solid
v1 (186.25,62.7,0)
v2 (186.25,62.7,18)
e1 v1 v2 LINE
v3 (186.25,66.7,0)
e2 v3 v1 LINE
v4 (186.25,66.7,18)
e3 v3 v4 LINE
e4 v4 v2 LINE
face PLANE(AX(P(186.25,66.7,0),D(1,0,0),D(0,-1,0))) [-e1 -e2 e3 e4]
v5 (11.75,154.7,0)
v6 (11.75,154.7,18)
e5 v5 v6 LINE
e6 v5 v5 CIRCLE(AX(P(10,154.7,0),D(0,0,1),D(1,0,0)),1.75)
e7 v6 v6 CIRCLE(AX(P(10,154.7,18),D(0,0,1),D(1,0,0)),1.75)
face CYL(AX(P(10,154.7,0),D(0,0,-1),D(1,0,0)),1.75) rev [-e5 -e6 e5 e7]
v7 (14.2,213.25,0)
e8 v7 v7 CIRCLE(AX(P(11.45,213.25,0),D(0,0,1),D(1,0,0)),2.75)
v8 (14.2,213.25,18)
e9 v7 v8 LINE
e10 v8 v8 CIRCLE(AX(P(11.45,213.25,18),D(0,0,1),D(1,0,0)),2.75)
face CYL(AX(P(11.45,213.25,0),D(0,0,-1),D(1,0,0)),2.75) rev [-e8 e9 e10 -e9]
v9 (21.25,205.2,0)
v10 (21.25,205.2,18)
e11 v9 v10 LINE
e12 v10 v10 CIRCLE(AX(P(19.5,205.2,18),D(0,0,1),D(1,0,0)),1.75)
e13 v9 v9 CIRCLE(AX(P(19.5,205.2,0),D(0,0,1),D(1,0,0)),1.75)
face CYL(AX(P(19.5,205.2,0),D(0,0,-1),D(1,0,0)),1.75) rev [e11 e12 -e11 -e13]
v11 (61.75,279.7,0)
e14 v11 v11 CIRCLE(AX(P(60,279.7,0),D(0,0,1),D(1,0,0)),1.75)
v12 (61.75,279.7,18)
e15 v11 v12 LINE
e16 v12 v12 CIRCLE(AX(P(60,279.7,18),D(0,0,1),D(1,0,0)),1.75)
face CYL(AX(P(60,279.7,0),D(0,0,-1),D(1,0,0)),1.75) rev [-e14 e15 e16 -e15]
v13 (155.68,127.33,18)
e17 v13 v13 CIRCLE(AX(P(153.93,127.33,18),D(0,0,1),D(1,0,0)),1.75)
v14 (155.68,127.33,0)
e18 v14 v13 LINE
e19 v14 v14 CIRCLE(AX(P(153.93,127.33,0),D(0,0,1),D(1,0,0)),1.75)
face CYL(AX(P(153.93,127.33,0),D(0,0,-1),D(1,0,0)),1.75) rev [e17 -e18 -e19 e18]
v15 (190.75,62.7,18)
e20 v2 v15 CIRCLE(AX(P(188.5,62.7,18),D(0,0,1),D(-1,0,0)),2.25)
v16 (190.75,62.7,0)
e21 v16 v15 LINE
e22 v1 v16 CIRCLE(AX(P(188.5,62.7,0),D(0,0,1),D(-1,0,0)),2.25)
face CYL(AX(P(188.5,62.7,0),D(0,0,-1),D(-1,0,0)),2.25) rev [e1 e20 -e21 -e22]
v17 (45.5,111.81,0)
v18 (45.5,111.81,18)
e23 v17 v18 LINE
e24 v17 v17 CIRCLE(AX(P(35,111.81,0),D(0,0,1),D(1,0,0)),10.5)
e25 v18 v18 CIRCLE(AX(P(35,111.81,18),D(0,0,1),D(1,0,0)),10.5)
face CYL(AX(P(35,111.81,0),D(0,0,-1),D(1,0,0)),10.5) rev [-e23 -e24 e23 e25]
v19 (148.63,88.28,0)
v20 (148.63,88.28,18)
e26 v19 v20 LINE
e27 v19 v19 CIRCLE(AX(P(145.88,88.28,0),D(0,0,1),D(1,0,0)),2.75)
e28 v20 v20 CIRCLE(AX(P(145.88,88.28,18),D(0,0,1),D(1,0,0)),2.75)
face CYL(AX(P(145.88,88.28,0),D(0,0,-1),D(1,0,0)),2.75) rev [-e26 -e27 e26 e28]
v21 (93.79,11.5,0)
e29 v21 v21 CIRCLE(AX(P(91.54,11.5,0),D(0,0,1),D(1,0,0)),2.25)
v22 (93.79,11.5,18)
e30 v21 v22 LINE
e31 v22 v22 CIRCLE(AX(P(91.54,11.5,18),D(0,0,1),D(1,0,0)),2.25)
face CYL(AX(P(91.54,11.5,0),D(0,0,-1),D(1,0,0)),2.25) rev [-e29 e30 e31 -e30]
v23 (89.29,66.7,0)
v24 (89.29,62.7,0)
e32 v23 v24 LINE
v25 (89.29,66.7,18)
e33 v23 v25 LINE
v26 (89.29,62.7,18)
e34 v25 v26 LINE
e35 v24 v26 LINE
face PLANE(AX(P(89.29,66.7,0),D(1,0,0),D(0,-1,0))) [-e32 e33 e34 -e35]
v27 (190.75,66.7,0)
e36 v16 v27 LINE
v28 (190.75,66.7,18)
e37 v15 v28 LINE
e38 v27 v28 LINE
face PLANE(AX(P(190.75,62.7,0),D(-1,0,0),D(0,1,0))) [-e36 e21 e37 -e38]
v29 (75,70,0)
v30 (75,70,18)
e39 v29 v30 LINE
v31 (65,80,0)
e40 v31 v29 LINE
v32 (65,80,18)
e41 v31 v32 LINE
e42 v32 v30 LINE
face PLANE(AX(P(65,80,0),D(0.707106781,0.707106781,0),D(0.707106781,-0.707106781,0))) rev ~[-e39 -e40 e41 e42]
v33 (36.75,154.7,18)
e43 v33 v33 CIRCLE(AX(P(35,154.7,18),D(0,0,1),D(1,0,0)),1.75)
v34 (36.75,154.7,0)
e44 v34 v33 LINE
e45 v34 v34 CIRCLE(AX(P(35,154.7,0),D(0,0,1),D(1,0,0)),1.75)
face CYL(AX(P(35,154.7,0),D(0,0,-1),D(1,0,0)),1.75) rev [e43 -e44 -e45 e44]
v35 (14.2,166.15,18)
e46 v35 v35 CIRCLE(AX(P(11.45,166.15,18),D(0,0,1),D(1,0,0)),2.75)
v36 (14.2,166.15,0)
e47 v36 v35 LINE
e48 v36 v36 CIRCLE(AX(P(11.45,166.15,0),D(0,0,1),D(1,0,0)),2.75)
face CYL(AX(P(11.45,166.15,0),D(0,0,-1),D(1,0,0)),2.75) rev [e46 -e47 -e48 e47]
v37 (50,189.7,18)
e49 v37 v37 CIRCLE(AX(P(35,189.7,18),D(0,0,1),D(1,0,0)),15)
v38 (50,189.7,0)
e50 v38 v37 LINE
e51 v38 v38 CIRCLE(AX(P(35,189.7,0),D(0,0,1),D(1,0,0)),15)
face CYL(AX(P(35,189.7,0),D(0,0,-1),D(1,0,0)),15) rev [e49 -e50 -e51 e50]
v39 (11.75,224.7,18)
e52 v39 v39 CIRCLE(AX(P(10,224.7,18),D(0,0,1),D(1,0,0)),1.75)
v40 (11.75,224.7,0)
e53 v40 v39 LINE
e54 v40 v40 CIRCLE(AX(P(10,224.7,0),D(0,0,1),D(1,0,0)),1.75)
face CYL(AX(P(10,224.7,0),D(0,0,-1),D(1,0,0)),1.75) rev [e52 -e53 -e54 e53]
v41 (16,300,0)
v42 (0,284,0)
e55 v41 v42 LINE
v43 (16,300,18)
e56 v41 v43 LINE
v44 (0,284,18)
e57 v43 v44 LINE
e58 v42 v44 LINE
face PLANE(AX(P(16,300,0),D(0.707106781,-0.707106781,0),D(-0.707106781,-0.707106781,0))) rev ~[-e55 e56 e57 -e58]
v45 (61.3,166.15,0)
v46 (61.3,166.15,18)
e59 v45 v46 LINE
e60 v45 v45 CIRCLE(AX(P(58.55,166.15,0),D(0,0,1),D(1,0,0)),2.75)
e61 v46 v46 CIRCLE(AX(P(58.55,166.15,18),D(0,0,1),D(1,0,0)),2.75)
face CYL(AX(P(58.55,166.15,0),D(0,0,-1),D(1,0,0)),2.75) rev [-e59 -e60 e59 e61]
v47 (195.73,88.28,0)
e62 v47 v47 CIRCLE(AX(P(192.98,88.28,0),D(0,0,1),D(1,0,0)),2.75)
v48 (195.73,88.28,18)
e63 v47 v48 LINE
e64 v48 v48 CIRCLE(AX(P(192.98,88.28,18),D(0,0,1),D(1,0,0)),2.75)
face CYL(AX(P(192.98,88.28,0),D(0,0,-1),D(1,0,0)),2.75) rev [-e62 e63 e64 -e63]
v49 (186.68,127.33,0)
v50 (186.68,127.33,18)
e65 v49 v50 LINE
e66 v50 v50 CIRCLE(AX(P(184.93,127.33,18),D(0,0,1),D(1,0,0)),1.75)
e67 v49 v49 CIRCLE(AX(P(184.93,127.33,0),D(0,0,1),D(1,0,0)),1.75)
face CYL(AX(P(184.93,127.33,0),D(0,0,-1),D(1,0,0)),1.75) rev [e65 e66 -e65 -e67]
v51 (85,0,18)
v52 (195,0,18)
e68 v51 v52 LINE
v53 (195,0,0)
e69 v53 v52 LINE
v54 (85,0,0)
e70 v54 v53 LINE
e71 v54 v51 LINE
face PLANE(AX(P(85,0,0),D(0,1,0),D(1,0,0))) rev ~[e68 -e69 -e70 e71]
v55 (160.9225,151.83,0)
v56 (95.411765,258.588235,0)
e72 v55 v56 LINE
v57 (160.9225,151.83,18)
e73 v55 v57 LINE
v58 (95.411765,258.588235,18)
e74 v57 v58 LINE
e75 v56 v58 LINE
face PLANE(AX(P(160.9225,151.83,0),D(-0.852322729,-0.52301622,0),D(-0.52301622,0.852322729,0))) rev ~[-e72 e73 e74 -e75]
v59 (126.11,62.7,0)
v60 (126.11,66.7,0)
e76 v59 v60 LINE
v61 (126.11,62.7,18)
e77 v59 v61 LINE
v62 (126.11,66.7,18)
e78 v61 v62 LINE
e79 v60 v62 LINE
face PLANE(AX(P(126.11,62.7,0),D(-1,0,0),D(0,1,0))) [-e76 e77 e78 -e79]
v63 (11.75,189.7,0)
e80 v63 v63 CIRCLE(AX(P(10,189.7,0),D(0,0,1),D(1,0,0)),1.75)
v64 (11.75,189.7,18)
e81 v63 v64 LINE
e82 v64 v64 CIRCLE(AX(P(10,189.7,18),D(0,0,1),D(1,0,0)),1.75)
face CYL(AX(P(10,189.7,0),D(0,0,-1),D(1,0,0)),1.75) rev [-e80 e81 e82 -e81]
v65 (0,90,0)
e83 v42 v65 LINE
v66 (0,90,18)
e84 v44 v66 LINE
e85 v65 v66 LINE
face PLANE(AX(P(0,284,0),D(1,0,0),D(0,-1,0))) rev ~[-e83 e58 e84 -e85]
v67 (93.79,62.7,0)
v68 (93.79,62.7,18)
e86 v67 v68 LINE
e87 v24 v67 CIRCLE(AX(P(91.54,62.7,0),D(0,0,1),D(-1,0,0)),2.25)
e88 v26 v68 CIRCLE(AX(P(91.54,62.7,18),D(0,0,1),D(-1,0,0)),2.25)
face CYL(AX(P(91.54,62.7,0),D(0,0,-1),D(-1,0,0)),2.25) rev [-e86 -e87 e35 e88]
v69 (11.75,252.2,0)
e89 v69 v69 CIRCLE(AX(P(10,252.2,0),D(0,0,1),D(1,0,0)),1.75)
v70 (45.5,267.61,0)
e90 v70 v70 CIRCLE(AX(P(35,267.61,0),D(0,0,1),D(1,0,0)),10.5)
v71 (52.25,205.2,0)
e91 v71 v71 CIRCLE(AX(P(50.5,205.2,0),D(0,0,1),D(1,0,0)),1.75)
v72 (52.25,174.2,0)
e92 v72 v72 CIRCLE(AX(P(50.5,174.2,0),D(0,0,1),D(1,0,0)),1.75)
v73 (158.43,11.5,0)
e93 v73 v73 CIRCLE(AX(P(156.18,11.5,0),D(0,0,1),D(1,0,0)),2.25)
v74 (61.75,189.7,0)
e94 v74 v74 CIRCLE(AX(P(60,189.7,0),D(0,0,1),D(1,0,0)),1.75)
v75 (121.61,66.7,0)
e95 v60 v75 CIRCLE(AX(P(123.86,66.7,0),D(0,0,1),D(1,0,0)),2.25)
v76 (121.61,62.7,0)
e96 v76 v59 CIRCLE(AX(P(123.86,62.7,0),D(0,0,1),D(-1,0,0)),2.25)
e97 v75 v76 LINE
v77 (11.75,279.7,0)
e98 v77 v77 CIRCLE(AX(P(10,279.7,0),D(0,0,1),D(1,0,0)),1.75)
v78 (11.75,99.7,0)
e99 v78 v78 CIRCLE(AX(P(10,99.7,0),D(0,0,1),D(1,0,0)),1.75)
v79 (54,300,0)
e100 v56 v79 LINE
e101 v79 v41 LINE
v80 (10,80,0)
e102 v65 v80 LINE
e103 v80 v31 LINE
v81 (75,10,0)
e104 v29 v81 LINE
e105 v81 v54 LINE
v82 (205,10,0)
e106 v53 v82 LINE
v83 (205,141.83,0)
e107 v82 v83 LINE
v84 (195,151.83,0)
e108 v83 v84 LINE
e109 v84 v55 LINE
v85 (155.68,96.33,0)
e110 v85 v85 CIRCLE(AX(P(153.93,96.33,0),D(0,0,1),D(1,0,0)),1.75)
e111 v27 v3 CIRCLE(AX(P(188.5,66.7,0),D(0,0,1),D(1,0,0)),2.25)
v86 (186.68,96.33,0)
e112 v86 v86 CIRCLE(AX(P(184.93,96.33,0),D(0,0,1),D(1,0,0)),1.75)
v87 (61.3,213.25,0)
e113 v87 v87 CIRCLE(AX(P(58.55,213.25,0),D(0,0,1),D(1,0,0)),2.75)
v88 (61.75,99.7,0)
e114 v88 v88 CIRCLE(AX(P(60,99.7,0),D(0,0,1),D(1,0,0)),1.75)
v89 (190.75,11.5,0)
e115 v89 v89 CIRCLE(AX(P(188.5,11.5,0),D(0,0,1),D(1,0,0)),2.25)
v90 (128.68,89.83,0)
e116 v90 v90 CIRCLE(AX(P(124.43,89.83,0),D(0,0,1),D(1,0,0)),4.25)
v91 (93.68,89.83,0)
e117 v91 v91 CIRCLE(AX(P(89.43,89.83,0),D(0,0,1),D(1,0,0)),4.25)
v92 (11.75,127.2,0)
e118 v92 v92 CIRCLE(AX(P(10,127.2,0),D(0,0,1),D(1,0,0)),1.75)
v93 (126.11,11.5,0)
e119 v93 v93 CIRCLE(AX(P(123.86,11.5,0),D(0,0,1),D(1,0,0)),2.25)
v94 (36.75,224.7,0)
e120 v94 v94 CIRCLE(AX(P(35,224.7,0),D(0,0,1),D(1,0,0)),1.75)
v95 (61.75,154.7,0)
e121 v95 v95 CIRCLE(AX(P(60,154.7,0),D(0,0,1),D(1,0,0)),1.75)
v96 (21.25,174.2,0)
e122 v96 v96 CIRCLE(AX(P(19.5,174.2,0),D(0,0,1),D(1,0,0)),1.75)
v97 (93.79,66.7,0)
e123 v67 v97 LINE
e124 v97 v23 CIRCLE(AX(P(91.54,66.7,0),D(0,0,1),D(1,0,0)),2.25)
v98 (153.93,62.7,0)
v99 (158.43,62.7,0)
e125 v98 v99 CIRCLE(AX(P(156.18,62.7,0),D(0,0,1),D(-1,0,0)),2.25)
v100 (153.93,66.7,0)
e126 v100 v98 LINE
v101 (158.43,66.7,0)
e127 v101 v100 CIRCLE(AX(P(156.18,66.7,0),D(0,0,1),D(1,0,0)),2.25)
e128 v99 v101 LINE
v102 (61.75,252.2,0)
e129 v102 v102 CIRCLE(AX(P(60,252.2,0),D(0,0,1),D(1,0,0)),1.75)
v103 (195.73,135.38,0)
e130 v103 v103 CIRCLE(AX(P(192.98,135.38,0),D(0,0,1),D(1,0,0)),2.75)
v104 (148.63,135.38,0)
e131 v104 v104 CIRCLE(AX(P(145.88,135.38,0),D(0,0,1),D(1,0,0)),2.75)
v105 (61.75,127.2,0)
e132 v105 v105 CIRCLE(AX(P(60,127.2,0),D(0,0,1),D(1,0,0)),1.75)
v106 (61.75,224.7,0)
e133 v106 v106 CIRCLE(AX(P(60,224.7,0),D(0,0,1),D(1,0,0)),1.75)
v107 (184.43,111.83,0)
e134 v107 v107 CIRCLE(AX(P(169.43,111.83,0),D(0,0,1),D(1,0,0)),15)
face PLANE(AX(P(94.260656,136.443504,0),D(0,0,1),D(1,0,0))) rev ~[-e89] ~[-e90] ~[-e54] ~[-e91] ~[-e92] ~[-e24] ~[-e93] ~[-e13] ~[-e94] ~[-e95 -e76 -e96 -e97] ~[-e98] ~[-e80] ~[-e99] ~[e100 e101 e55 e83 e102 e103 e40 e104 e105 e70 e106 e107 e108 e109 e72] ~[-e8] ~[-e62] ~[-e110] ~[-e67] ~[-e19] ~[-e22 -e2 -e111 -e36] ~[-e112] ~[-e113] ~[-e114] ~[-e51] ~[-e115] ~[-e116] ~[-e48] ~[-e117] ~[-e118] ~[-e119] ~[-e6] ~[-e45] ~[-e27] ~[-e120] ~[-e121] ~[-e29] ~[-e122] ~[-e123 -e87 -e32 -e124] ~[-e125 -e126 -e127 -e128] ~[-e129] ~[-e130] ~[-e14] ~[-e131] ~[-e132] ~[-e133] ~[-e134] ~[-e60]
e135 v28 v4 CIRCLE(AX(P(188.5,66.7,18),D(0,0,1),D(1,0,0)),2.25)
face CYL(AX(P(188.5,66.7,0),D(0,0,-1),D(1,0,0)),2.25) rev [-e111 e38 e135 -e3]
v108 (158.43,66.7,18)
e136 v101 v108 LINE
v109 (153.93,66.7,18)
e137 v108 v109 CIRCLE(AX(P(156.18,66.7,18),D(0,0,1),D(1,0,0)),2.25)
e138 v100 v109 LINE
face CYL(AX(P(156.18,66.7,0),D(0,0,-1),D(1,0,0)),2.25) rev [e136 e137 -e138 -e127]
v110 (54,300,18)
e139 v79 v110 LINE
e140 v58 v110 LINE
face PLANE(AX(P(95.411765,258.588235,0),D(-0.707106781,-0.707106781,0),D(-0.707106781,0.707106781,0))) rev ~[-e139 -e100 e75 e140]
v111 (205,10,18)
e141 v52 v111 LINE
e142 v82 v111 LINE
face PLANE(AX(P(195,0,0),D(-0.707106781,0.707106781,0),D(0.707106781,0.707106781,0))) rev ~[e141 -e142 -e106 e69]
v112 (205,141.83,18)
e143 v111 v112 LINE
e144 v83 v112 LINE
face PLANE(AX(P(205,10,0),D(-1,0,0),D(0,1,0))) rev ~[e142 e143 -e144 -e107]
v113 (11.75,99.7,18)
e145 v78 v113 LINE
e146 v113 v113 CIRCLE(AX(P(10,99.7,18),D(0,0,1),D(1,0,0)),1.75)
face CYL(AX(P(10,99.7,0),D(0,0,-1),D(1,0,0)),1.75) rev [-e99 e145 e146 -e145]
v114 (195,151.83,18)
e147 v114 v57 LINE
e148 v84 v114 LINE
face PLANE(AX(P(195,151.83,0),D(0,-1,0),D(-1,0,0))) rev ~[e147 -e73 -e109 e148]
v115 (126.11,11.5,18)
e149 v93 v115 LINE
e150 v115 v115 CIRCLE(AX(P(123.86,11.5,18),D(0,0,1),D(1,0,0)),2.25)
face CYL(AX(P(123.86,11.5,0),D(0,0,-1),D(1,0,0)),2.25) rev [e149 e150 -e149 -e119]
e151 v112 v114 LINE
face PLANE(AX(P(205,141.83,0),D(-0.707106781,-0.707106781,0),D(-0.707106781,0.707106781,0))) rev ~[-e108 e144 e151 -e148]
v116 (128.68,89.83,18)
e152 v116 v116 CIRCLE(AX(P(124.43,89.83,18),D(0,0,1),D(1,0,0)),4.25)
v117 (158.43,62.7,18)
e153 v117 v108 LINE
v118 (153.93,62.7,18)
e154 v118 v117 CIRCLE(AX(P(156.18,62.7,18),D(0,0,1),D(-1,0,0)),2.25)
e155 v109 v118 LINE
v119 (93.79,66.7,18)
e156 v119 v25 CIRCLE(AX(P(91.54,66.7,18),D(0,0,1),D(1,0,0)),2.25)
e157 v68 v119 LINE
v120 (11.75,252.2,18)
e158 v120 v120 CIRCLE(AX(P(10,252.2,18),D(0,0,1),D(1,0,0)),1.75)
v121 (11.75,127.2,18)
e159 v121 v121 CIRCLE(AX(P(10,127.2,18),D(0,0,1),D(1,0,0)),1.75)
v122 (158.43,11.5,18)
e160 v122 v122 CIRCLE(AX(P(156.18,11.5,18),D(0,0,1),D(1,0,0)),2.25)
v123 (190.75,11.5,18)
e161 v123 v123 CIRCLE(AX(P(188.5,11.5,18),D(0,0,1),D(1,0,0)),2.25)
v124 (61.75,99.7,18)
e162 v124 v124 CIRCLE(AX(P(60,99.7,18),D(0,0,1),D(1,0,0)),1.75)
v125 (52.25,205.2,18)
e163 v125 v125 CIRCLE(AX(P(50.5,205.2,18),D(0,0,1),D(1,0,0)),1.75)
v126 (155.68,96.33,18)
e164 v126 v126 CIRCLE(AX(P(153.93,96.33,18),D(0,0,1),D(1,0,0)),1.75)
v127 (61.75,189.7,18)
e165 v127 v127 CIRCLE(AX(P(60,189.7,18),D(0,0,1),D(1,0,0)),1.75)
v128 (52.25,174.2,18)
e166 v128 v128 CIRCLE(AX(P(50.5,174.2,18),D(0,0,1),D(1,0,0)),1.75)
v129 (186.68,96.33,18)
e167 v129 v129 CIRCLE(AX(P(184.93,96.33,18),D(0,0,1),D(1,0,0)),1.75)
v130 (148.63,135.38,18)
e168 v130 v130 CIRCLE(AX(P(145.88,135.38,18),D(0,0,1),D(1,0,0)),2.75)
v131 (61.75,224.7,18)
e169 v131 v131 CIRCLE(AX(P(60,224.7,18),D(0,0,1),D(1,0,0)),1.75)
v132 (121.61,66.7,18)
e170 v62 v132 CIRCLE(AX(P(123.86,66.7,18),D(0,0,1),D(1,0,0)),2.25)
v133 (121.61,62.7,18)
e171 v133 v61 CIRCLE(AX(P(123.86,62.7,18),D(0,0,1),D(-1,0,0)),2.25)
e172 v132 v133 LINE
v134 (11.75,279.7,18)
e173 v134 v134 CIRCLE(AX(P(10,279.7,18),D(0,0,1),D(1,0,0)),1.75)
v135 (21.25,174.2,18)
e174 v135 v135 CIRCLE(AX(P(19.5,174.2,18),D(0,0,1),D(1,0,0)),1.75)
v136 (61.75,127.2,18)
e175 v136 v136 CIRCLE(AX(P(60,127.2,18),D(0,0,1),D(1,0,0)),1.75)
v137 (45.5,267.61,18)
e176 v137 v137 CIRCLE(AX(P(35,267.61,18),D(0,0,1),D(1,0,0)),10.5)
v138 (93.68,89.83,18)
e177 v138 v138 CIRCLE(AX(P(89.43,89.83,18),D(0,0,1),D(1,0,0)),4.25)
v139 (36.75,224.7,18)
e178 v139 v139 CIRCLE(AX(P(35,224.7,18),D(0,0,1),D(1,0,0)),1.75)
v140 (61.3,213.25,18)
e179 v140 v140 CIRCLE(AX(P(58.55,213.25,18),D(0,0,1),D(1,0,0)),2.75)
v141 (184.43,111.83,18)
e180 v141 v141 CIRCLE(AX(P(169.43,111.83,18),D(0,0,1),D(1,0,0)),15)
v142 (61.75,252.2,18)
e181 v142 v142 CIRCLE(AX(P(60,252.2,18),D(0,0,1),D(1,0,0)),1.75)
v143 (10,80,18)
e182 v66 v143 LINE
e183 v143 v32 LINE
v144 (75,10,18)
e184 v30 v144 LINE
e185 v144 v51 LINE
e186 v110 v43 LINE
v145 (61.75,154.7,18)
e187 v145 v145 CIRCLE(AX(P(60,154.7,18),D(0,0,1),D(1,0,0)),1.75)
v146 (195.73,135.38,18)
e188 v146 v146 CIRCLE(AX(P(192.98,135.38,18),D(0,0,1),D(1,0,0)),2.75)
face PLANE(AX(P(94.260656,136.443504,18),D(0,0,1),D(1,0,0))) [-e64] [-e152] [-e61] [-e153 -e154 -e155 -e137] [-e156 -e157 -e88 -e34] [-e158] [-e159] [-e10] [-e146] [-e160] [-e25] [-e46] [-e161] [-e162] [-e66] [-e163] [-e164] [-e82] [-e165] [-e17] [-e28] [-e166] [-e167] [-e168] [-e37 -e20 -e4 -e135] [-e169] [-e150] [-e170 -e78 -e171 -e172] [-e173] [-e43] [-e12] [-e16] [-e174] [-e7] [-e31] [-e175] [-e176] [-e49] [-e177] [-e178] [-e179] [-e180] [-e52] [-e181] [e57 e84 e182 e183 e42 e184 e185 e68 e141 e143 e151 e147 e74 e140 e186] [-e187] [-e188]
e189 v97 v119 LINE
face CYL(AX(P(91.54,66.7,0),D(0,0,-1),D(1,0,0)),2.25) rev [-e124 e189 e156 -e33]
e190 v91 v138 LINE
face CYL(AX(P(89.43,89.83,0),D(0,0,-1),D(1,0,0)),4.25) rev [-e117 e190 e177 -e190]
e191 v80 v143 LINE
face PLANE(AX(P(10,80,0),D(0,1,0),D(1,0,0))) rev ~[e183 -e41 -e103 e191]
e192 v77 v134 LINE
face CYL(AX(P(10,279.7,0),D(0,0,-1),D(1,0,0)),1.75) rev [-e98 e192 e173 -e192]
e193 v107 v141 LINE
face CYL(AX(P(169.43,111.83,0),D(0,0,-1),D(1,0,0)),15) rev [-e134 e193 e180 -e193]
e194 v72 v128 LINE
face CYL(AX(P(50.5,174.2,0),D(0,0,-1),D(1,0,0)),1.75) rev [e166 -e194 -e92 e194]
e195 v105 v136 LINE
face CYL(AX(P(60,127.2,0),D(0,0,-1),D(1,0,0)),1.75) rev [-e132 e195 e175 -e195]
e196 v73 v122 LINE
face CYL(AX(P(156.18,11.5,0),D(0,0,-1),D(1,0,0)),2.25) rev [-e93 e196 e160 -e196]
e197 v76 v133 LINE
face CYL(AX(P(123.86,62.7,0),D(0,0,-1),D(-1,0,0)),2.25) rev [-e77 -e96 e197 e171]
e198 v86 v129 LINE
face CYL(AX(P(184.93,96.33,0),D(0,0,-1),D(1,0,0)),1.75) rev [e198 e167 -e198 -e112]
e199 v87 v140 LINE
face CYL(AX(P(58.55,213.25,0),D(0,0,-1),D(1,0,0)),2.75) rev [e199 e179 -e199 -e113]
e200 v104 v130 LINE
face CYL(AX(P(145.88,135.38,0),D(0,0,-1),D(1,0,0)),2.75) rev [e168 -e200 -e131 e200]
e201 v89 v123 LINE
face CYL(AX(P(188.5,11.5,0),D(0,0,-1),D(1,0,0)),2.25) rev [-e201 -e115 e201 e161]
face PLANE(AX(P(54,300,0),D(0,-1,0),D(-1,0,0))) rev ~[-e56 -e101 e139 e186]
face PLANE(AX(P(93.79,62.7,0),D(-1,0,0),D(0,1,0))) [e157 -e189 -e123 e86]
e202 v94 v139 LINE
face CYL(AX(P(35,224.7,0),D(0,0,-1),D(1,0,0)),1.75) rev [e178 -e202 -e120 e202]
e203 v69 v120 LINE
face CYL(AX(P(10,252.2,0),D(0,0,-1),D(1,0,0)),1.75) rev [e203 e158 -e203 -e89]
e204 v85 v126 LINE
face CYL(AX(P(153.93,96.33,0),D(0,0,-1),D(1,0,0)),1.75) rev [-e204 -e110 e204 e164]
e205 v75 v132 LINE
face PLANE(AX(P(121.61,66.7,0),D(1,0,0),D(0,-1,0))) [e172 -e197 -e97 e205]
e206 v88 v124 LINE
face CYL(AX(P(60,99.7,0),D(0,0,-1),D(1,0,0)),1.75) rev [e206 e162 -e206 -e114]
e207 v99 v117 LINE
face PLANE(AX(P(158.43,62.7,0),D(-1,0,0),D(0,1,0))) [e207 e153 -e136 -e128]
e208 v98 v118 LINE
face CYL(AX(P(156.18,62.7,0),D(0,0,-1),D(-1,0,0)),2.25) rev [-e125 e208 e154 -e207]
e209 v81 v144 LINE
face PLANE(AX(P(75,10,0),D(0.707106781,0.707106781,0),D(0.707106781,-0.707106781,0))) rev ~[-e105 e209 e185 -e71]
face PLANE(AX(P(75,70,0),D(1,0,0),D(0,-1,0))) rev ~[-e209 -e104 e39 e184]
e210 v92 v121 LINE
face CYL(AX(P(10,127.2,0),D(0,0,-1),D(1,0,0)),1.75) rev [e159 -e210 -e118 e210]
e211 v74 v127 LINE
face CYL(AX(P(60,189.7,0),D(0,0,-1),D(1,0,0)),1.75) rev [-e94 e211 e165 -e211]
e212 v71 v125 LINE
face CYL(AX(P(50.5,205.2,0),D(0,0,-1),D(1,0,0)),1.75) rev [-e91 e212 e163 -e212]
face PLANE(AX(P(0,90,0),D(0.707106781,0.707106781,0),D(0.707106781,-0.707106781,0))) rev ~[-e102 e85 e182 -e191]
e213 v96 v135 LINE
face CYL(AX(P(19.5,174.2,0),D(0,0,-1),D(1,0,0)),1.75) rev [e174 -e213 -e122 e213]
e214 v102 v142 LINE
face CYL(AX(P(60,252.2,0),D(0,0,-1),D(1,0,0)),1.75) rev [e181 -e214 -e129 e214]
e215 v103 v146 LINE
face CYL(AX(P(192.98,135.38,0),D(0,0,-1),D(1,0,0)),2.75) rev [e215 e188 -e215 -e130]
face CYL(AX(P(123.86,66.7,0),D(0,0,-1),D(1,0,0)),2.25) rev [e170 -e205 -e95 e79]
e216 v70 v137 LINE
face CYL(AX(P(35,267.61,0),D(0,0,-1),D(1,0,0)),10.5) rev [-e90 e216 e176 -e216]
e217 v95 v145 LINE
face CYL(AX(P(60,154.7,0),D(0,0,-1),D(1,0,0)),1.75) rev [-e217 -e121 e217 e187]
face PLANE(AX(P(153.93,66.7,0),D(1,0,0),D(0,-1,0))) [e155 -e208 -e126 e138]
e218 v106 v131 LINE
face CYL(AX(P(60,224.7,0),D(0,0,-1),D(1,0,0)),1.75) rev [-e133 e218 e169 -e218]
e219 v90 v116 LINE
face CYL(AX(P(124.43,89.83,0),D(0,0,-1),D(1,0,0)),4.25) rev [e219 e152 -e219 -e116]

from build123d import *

# Parameters (mm, degrees)
MODEL_R             = 1.75
MODEL_R_2           = 2.25
MODEL_R_3           = 15
MODEL_R_4           = 2.75
MODEL_R_5           = 10.5
MODEL_R_6           = 4.25
BOSS_EXTRUDE1_DEPTH = 18


with BuildPart() as part:
    # Model → Boss-Extrude1 (new body)
    with BuildSketch(Plane.XY):
        Polygon((195, 0), (205, 10), (205, 141.83), (195, 151.83), (160.9225, 151.83), (95.411764706, 258.588235294), (54, 300), (16, 300), (0, 284), (0, 90), (10, 80), (65, 80), (75, 70), (75, 10), (85, 0), align=None)
        with Locations((60, 279.7)):
            Circle(MODEL_R, mode=Mode.SUBTRACT)
        with Locations((10, 279.7)):
            Circle(MODEL_R, mode=Mode.SUBTRACT)
        with Locations((10, 224.7)):
            Circle(MODEL_R, mode=Mode.SUBTRACT)
        with Locations((10, 154.7)):
            Circle(MODEL_R, mode=Mode.SUBTRACT)
        with Locations((10, 99.7)):
            Circle(MODEL_R, mode=Mode.SUBTRACT)
        with Locations((60, 99.7)):
            Circle(MODEL_R, mode=Mode.SUBTRACT)
        with Locations((60, 154.7)):
            Circle(MODEL_R, mode=Mode.SUBTRACT)
        with Locations((60, 224.7)):
            Circle(MODEL_R, mode=Mode.SUBTRACT)
        with Locations((10, 252.2)):
            Circle(MODEL_R, mode=Mode.SUBTRACT)
        with Locations((60, 252.2)):
            Circle(MODEL_R, mode=Mode.SUBTRACT)
        with Locations((35, 224.7)):
            Circle(MODEL_R, mode=Mode.SUBTRACT)
        with Locations((10, 189.7)):
            Circle(MODEL_R, mode=Mode.SUBTRACT)
        with Locations((60, 189.7)):
            Circle(MODEL_R, mode=Mode.SUBTRACT)
        with Locations((10, 127.2)):
            Circle(MODEL_R, mode=Mode.SUBTRACT)
        with Locations((60, 127.2)):
            Circle(MODEL_R, mode=Mode.SUBTRACT)
        with Locations((35, 154.7)):
            Circle(MODEL_R, mode=Mode.SUBTRACT)
        with Locations((91.54, 11.5)):
            Circle(MODEL_R_2, mode=Mode.SUBTRACT)
        with Locations((123.86, 11.5)):
            Circle(MODEL_R_2, mode=Mode.SUBTRACT)
        with Locations((156.18, 11.5)):
            Circle(MODEL_R_2, mode=Mode.SUBTRACT)
        with Locations((188.5, 11.5)):
            Circle(MODEL_R_2, mode=Mode.SUBTRACT)
        with Locations((50.5, 205.2)):
            Circle(MODEL_R, mode=Mode.SUBTRACT)
        with Locations((50.5, 174.2)):
            Circle(MODEL_R, mode=Mode.SUBTRACT)
        with Locations((35, 189.7)):
            Circle(MODEL_R_3, mode=Mode.SUBTRACT)
        with Locations((19.5, 174.2)):
            Circle(MODEL_R, mode=Mode.SUBTRACT)
        with Locations((19.5, 205.2)):
            Circle(MODEL_R, mode=Mode.SUBTRACT)
        with Locations((11.45, 213.25)):
            Circle(MODEL_R_4, mode=Mode.SUBTRACT)
        with Locations((58.55, 213.25)):
            Circle(MODEL_R_4, mode=Mode.SUBTRACT)
        with Locations((58.55, 166.15)):
            Circle(MODEL_R_4, mode=Mode.SUBTRACT)
        with Locations((11.45, 166.15)):
            Circle(MODEL_R_4, mode=Mode.SUBTRACT)
        with Locations((35, 111.81)):
            Circle(MODEL_R_5, mode=Mode.SUBTRACT)
        with Locations((35, 267.61)):
            Circle(MODEL_R_5, mode=Mode.SUBTRACT)
        with Locations((89.43, 89.83)):
            Circle(MODEL_R_6, mode=Mode.SUBTRACT)
        with Locations((124.43, 89.83)):
            Circle(MODEL_R_6, mode=Mode.SUBTRACT)
        with Locations((145.88, 135.38)):
            Circle(MODEL_R_4, mode=Mode.SUBTRACT)
        with Locations((192.98, 135.38)):
            Circle(MODEL_R_4, mode=Mode.SUBTRACT)
        with Locations((192.98, 88.28)):
            Circle(MODEL_R_4, mode=Mode.SUBTRACT)
        with Locations((145.88, 88.28)):
            Circle(MODEL_R_4, mode=Mode.SUBTRACT)
        with Locations((169.43, 111.83)):
            Circle(MODEL_R_3, mode=Mode.SUBTRACT)
        with Locations((153.93, 96.33)):
            Circle(MODEL_R, mode=Mode.SUBTRACT)
        with Locations((184.93, 127.33)):
            Circle(MODEL_R, mode=Mode.SUBTRACT)
        with Locations((184.93, 96.33)):
            Circle(MODEL_R, mode=Mode.SUBTRACT)
        with Locations((153.93, 127.33)):
            Circle(MODEL_R, mode=Mode.SUBTRACT)
        with BuildLine():
            Line((89.29, 66.7), (89.29, 62.7))
            ThreePointArc((89.29, 62.7), (91.54, 60.45), (93.79, 62.7))
            Line((93.79, 62.7), (93.79, 66.7))
            ThreePointArc((93.79, 66.7), (91.54, 68.95), (89.29, 66.7))
        make_face(mode=Mode.SUBTRACT)
        with BuildLine():
            Line((121.61, 66.7), (121.61, 62.7))
            ThreePointArc((121.61, 62.7), (123.86, 60.45), (126.11, 62.7))
            Line((126.11, 62.7), (126.11, 66.7))
            ThreePointArc((126.11, 66.7), (123.86, 68.95), (121.61, 66.7))
        make_face(mode=Mode.SUBTRACT)
        with BuildLine():
            Line((153.93, 66.7), (153.93, 62.7))
            ThreePointArc((153.93, 62.7), (156.18, 60.45), (158.43, 62.7))
            Line((158.43, 62.7), (158.43, 66.7))
            ThreePointArc((158.43, 66.7), (156.18, 68.95), (153.93, 66.7))
        make_face(mode=Mode.SUBTRACT)
        with BuildLine():
            Line((186.25, 66.7), (186.25, 62.7))
            ThreePointArc((186.25, 62.7), (188.5, 60.45), (190.75, 62.7))
            Line((190.75, 62.7), (190.75, 66.7))
            ThreePointArc((190.75, 66.7), (188.5, 68.95), (186.25, 66.7))
        make_face(mode=Mode.SUBTRACT)
    extrude(amount=BOSS_EXTRUDE1_DEPTH)


solid = part.part
